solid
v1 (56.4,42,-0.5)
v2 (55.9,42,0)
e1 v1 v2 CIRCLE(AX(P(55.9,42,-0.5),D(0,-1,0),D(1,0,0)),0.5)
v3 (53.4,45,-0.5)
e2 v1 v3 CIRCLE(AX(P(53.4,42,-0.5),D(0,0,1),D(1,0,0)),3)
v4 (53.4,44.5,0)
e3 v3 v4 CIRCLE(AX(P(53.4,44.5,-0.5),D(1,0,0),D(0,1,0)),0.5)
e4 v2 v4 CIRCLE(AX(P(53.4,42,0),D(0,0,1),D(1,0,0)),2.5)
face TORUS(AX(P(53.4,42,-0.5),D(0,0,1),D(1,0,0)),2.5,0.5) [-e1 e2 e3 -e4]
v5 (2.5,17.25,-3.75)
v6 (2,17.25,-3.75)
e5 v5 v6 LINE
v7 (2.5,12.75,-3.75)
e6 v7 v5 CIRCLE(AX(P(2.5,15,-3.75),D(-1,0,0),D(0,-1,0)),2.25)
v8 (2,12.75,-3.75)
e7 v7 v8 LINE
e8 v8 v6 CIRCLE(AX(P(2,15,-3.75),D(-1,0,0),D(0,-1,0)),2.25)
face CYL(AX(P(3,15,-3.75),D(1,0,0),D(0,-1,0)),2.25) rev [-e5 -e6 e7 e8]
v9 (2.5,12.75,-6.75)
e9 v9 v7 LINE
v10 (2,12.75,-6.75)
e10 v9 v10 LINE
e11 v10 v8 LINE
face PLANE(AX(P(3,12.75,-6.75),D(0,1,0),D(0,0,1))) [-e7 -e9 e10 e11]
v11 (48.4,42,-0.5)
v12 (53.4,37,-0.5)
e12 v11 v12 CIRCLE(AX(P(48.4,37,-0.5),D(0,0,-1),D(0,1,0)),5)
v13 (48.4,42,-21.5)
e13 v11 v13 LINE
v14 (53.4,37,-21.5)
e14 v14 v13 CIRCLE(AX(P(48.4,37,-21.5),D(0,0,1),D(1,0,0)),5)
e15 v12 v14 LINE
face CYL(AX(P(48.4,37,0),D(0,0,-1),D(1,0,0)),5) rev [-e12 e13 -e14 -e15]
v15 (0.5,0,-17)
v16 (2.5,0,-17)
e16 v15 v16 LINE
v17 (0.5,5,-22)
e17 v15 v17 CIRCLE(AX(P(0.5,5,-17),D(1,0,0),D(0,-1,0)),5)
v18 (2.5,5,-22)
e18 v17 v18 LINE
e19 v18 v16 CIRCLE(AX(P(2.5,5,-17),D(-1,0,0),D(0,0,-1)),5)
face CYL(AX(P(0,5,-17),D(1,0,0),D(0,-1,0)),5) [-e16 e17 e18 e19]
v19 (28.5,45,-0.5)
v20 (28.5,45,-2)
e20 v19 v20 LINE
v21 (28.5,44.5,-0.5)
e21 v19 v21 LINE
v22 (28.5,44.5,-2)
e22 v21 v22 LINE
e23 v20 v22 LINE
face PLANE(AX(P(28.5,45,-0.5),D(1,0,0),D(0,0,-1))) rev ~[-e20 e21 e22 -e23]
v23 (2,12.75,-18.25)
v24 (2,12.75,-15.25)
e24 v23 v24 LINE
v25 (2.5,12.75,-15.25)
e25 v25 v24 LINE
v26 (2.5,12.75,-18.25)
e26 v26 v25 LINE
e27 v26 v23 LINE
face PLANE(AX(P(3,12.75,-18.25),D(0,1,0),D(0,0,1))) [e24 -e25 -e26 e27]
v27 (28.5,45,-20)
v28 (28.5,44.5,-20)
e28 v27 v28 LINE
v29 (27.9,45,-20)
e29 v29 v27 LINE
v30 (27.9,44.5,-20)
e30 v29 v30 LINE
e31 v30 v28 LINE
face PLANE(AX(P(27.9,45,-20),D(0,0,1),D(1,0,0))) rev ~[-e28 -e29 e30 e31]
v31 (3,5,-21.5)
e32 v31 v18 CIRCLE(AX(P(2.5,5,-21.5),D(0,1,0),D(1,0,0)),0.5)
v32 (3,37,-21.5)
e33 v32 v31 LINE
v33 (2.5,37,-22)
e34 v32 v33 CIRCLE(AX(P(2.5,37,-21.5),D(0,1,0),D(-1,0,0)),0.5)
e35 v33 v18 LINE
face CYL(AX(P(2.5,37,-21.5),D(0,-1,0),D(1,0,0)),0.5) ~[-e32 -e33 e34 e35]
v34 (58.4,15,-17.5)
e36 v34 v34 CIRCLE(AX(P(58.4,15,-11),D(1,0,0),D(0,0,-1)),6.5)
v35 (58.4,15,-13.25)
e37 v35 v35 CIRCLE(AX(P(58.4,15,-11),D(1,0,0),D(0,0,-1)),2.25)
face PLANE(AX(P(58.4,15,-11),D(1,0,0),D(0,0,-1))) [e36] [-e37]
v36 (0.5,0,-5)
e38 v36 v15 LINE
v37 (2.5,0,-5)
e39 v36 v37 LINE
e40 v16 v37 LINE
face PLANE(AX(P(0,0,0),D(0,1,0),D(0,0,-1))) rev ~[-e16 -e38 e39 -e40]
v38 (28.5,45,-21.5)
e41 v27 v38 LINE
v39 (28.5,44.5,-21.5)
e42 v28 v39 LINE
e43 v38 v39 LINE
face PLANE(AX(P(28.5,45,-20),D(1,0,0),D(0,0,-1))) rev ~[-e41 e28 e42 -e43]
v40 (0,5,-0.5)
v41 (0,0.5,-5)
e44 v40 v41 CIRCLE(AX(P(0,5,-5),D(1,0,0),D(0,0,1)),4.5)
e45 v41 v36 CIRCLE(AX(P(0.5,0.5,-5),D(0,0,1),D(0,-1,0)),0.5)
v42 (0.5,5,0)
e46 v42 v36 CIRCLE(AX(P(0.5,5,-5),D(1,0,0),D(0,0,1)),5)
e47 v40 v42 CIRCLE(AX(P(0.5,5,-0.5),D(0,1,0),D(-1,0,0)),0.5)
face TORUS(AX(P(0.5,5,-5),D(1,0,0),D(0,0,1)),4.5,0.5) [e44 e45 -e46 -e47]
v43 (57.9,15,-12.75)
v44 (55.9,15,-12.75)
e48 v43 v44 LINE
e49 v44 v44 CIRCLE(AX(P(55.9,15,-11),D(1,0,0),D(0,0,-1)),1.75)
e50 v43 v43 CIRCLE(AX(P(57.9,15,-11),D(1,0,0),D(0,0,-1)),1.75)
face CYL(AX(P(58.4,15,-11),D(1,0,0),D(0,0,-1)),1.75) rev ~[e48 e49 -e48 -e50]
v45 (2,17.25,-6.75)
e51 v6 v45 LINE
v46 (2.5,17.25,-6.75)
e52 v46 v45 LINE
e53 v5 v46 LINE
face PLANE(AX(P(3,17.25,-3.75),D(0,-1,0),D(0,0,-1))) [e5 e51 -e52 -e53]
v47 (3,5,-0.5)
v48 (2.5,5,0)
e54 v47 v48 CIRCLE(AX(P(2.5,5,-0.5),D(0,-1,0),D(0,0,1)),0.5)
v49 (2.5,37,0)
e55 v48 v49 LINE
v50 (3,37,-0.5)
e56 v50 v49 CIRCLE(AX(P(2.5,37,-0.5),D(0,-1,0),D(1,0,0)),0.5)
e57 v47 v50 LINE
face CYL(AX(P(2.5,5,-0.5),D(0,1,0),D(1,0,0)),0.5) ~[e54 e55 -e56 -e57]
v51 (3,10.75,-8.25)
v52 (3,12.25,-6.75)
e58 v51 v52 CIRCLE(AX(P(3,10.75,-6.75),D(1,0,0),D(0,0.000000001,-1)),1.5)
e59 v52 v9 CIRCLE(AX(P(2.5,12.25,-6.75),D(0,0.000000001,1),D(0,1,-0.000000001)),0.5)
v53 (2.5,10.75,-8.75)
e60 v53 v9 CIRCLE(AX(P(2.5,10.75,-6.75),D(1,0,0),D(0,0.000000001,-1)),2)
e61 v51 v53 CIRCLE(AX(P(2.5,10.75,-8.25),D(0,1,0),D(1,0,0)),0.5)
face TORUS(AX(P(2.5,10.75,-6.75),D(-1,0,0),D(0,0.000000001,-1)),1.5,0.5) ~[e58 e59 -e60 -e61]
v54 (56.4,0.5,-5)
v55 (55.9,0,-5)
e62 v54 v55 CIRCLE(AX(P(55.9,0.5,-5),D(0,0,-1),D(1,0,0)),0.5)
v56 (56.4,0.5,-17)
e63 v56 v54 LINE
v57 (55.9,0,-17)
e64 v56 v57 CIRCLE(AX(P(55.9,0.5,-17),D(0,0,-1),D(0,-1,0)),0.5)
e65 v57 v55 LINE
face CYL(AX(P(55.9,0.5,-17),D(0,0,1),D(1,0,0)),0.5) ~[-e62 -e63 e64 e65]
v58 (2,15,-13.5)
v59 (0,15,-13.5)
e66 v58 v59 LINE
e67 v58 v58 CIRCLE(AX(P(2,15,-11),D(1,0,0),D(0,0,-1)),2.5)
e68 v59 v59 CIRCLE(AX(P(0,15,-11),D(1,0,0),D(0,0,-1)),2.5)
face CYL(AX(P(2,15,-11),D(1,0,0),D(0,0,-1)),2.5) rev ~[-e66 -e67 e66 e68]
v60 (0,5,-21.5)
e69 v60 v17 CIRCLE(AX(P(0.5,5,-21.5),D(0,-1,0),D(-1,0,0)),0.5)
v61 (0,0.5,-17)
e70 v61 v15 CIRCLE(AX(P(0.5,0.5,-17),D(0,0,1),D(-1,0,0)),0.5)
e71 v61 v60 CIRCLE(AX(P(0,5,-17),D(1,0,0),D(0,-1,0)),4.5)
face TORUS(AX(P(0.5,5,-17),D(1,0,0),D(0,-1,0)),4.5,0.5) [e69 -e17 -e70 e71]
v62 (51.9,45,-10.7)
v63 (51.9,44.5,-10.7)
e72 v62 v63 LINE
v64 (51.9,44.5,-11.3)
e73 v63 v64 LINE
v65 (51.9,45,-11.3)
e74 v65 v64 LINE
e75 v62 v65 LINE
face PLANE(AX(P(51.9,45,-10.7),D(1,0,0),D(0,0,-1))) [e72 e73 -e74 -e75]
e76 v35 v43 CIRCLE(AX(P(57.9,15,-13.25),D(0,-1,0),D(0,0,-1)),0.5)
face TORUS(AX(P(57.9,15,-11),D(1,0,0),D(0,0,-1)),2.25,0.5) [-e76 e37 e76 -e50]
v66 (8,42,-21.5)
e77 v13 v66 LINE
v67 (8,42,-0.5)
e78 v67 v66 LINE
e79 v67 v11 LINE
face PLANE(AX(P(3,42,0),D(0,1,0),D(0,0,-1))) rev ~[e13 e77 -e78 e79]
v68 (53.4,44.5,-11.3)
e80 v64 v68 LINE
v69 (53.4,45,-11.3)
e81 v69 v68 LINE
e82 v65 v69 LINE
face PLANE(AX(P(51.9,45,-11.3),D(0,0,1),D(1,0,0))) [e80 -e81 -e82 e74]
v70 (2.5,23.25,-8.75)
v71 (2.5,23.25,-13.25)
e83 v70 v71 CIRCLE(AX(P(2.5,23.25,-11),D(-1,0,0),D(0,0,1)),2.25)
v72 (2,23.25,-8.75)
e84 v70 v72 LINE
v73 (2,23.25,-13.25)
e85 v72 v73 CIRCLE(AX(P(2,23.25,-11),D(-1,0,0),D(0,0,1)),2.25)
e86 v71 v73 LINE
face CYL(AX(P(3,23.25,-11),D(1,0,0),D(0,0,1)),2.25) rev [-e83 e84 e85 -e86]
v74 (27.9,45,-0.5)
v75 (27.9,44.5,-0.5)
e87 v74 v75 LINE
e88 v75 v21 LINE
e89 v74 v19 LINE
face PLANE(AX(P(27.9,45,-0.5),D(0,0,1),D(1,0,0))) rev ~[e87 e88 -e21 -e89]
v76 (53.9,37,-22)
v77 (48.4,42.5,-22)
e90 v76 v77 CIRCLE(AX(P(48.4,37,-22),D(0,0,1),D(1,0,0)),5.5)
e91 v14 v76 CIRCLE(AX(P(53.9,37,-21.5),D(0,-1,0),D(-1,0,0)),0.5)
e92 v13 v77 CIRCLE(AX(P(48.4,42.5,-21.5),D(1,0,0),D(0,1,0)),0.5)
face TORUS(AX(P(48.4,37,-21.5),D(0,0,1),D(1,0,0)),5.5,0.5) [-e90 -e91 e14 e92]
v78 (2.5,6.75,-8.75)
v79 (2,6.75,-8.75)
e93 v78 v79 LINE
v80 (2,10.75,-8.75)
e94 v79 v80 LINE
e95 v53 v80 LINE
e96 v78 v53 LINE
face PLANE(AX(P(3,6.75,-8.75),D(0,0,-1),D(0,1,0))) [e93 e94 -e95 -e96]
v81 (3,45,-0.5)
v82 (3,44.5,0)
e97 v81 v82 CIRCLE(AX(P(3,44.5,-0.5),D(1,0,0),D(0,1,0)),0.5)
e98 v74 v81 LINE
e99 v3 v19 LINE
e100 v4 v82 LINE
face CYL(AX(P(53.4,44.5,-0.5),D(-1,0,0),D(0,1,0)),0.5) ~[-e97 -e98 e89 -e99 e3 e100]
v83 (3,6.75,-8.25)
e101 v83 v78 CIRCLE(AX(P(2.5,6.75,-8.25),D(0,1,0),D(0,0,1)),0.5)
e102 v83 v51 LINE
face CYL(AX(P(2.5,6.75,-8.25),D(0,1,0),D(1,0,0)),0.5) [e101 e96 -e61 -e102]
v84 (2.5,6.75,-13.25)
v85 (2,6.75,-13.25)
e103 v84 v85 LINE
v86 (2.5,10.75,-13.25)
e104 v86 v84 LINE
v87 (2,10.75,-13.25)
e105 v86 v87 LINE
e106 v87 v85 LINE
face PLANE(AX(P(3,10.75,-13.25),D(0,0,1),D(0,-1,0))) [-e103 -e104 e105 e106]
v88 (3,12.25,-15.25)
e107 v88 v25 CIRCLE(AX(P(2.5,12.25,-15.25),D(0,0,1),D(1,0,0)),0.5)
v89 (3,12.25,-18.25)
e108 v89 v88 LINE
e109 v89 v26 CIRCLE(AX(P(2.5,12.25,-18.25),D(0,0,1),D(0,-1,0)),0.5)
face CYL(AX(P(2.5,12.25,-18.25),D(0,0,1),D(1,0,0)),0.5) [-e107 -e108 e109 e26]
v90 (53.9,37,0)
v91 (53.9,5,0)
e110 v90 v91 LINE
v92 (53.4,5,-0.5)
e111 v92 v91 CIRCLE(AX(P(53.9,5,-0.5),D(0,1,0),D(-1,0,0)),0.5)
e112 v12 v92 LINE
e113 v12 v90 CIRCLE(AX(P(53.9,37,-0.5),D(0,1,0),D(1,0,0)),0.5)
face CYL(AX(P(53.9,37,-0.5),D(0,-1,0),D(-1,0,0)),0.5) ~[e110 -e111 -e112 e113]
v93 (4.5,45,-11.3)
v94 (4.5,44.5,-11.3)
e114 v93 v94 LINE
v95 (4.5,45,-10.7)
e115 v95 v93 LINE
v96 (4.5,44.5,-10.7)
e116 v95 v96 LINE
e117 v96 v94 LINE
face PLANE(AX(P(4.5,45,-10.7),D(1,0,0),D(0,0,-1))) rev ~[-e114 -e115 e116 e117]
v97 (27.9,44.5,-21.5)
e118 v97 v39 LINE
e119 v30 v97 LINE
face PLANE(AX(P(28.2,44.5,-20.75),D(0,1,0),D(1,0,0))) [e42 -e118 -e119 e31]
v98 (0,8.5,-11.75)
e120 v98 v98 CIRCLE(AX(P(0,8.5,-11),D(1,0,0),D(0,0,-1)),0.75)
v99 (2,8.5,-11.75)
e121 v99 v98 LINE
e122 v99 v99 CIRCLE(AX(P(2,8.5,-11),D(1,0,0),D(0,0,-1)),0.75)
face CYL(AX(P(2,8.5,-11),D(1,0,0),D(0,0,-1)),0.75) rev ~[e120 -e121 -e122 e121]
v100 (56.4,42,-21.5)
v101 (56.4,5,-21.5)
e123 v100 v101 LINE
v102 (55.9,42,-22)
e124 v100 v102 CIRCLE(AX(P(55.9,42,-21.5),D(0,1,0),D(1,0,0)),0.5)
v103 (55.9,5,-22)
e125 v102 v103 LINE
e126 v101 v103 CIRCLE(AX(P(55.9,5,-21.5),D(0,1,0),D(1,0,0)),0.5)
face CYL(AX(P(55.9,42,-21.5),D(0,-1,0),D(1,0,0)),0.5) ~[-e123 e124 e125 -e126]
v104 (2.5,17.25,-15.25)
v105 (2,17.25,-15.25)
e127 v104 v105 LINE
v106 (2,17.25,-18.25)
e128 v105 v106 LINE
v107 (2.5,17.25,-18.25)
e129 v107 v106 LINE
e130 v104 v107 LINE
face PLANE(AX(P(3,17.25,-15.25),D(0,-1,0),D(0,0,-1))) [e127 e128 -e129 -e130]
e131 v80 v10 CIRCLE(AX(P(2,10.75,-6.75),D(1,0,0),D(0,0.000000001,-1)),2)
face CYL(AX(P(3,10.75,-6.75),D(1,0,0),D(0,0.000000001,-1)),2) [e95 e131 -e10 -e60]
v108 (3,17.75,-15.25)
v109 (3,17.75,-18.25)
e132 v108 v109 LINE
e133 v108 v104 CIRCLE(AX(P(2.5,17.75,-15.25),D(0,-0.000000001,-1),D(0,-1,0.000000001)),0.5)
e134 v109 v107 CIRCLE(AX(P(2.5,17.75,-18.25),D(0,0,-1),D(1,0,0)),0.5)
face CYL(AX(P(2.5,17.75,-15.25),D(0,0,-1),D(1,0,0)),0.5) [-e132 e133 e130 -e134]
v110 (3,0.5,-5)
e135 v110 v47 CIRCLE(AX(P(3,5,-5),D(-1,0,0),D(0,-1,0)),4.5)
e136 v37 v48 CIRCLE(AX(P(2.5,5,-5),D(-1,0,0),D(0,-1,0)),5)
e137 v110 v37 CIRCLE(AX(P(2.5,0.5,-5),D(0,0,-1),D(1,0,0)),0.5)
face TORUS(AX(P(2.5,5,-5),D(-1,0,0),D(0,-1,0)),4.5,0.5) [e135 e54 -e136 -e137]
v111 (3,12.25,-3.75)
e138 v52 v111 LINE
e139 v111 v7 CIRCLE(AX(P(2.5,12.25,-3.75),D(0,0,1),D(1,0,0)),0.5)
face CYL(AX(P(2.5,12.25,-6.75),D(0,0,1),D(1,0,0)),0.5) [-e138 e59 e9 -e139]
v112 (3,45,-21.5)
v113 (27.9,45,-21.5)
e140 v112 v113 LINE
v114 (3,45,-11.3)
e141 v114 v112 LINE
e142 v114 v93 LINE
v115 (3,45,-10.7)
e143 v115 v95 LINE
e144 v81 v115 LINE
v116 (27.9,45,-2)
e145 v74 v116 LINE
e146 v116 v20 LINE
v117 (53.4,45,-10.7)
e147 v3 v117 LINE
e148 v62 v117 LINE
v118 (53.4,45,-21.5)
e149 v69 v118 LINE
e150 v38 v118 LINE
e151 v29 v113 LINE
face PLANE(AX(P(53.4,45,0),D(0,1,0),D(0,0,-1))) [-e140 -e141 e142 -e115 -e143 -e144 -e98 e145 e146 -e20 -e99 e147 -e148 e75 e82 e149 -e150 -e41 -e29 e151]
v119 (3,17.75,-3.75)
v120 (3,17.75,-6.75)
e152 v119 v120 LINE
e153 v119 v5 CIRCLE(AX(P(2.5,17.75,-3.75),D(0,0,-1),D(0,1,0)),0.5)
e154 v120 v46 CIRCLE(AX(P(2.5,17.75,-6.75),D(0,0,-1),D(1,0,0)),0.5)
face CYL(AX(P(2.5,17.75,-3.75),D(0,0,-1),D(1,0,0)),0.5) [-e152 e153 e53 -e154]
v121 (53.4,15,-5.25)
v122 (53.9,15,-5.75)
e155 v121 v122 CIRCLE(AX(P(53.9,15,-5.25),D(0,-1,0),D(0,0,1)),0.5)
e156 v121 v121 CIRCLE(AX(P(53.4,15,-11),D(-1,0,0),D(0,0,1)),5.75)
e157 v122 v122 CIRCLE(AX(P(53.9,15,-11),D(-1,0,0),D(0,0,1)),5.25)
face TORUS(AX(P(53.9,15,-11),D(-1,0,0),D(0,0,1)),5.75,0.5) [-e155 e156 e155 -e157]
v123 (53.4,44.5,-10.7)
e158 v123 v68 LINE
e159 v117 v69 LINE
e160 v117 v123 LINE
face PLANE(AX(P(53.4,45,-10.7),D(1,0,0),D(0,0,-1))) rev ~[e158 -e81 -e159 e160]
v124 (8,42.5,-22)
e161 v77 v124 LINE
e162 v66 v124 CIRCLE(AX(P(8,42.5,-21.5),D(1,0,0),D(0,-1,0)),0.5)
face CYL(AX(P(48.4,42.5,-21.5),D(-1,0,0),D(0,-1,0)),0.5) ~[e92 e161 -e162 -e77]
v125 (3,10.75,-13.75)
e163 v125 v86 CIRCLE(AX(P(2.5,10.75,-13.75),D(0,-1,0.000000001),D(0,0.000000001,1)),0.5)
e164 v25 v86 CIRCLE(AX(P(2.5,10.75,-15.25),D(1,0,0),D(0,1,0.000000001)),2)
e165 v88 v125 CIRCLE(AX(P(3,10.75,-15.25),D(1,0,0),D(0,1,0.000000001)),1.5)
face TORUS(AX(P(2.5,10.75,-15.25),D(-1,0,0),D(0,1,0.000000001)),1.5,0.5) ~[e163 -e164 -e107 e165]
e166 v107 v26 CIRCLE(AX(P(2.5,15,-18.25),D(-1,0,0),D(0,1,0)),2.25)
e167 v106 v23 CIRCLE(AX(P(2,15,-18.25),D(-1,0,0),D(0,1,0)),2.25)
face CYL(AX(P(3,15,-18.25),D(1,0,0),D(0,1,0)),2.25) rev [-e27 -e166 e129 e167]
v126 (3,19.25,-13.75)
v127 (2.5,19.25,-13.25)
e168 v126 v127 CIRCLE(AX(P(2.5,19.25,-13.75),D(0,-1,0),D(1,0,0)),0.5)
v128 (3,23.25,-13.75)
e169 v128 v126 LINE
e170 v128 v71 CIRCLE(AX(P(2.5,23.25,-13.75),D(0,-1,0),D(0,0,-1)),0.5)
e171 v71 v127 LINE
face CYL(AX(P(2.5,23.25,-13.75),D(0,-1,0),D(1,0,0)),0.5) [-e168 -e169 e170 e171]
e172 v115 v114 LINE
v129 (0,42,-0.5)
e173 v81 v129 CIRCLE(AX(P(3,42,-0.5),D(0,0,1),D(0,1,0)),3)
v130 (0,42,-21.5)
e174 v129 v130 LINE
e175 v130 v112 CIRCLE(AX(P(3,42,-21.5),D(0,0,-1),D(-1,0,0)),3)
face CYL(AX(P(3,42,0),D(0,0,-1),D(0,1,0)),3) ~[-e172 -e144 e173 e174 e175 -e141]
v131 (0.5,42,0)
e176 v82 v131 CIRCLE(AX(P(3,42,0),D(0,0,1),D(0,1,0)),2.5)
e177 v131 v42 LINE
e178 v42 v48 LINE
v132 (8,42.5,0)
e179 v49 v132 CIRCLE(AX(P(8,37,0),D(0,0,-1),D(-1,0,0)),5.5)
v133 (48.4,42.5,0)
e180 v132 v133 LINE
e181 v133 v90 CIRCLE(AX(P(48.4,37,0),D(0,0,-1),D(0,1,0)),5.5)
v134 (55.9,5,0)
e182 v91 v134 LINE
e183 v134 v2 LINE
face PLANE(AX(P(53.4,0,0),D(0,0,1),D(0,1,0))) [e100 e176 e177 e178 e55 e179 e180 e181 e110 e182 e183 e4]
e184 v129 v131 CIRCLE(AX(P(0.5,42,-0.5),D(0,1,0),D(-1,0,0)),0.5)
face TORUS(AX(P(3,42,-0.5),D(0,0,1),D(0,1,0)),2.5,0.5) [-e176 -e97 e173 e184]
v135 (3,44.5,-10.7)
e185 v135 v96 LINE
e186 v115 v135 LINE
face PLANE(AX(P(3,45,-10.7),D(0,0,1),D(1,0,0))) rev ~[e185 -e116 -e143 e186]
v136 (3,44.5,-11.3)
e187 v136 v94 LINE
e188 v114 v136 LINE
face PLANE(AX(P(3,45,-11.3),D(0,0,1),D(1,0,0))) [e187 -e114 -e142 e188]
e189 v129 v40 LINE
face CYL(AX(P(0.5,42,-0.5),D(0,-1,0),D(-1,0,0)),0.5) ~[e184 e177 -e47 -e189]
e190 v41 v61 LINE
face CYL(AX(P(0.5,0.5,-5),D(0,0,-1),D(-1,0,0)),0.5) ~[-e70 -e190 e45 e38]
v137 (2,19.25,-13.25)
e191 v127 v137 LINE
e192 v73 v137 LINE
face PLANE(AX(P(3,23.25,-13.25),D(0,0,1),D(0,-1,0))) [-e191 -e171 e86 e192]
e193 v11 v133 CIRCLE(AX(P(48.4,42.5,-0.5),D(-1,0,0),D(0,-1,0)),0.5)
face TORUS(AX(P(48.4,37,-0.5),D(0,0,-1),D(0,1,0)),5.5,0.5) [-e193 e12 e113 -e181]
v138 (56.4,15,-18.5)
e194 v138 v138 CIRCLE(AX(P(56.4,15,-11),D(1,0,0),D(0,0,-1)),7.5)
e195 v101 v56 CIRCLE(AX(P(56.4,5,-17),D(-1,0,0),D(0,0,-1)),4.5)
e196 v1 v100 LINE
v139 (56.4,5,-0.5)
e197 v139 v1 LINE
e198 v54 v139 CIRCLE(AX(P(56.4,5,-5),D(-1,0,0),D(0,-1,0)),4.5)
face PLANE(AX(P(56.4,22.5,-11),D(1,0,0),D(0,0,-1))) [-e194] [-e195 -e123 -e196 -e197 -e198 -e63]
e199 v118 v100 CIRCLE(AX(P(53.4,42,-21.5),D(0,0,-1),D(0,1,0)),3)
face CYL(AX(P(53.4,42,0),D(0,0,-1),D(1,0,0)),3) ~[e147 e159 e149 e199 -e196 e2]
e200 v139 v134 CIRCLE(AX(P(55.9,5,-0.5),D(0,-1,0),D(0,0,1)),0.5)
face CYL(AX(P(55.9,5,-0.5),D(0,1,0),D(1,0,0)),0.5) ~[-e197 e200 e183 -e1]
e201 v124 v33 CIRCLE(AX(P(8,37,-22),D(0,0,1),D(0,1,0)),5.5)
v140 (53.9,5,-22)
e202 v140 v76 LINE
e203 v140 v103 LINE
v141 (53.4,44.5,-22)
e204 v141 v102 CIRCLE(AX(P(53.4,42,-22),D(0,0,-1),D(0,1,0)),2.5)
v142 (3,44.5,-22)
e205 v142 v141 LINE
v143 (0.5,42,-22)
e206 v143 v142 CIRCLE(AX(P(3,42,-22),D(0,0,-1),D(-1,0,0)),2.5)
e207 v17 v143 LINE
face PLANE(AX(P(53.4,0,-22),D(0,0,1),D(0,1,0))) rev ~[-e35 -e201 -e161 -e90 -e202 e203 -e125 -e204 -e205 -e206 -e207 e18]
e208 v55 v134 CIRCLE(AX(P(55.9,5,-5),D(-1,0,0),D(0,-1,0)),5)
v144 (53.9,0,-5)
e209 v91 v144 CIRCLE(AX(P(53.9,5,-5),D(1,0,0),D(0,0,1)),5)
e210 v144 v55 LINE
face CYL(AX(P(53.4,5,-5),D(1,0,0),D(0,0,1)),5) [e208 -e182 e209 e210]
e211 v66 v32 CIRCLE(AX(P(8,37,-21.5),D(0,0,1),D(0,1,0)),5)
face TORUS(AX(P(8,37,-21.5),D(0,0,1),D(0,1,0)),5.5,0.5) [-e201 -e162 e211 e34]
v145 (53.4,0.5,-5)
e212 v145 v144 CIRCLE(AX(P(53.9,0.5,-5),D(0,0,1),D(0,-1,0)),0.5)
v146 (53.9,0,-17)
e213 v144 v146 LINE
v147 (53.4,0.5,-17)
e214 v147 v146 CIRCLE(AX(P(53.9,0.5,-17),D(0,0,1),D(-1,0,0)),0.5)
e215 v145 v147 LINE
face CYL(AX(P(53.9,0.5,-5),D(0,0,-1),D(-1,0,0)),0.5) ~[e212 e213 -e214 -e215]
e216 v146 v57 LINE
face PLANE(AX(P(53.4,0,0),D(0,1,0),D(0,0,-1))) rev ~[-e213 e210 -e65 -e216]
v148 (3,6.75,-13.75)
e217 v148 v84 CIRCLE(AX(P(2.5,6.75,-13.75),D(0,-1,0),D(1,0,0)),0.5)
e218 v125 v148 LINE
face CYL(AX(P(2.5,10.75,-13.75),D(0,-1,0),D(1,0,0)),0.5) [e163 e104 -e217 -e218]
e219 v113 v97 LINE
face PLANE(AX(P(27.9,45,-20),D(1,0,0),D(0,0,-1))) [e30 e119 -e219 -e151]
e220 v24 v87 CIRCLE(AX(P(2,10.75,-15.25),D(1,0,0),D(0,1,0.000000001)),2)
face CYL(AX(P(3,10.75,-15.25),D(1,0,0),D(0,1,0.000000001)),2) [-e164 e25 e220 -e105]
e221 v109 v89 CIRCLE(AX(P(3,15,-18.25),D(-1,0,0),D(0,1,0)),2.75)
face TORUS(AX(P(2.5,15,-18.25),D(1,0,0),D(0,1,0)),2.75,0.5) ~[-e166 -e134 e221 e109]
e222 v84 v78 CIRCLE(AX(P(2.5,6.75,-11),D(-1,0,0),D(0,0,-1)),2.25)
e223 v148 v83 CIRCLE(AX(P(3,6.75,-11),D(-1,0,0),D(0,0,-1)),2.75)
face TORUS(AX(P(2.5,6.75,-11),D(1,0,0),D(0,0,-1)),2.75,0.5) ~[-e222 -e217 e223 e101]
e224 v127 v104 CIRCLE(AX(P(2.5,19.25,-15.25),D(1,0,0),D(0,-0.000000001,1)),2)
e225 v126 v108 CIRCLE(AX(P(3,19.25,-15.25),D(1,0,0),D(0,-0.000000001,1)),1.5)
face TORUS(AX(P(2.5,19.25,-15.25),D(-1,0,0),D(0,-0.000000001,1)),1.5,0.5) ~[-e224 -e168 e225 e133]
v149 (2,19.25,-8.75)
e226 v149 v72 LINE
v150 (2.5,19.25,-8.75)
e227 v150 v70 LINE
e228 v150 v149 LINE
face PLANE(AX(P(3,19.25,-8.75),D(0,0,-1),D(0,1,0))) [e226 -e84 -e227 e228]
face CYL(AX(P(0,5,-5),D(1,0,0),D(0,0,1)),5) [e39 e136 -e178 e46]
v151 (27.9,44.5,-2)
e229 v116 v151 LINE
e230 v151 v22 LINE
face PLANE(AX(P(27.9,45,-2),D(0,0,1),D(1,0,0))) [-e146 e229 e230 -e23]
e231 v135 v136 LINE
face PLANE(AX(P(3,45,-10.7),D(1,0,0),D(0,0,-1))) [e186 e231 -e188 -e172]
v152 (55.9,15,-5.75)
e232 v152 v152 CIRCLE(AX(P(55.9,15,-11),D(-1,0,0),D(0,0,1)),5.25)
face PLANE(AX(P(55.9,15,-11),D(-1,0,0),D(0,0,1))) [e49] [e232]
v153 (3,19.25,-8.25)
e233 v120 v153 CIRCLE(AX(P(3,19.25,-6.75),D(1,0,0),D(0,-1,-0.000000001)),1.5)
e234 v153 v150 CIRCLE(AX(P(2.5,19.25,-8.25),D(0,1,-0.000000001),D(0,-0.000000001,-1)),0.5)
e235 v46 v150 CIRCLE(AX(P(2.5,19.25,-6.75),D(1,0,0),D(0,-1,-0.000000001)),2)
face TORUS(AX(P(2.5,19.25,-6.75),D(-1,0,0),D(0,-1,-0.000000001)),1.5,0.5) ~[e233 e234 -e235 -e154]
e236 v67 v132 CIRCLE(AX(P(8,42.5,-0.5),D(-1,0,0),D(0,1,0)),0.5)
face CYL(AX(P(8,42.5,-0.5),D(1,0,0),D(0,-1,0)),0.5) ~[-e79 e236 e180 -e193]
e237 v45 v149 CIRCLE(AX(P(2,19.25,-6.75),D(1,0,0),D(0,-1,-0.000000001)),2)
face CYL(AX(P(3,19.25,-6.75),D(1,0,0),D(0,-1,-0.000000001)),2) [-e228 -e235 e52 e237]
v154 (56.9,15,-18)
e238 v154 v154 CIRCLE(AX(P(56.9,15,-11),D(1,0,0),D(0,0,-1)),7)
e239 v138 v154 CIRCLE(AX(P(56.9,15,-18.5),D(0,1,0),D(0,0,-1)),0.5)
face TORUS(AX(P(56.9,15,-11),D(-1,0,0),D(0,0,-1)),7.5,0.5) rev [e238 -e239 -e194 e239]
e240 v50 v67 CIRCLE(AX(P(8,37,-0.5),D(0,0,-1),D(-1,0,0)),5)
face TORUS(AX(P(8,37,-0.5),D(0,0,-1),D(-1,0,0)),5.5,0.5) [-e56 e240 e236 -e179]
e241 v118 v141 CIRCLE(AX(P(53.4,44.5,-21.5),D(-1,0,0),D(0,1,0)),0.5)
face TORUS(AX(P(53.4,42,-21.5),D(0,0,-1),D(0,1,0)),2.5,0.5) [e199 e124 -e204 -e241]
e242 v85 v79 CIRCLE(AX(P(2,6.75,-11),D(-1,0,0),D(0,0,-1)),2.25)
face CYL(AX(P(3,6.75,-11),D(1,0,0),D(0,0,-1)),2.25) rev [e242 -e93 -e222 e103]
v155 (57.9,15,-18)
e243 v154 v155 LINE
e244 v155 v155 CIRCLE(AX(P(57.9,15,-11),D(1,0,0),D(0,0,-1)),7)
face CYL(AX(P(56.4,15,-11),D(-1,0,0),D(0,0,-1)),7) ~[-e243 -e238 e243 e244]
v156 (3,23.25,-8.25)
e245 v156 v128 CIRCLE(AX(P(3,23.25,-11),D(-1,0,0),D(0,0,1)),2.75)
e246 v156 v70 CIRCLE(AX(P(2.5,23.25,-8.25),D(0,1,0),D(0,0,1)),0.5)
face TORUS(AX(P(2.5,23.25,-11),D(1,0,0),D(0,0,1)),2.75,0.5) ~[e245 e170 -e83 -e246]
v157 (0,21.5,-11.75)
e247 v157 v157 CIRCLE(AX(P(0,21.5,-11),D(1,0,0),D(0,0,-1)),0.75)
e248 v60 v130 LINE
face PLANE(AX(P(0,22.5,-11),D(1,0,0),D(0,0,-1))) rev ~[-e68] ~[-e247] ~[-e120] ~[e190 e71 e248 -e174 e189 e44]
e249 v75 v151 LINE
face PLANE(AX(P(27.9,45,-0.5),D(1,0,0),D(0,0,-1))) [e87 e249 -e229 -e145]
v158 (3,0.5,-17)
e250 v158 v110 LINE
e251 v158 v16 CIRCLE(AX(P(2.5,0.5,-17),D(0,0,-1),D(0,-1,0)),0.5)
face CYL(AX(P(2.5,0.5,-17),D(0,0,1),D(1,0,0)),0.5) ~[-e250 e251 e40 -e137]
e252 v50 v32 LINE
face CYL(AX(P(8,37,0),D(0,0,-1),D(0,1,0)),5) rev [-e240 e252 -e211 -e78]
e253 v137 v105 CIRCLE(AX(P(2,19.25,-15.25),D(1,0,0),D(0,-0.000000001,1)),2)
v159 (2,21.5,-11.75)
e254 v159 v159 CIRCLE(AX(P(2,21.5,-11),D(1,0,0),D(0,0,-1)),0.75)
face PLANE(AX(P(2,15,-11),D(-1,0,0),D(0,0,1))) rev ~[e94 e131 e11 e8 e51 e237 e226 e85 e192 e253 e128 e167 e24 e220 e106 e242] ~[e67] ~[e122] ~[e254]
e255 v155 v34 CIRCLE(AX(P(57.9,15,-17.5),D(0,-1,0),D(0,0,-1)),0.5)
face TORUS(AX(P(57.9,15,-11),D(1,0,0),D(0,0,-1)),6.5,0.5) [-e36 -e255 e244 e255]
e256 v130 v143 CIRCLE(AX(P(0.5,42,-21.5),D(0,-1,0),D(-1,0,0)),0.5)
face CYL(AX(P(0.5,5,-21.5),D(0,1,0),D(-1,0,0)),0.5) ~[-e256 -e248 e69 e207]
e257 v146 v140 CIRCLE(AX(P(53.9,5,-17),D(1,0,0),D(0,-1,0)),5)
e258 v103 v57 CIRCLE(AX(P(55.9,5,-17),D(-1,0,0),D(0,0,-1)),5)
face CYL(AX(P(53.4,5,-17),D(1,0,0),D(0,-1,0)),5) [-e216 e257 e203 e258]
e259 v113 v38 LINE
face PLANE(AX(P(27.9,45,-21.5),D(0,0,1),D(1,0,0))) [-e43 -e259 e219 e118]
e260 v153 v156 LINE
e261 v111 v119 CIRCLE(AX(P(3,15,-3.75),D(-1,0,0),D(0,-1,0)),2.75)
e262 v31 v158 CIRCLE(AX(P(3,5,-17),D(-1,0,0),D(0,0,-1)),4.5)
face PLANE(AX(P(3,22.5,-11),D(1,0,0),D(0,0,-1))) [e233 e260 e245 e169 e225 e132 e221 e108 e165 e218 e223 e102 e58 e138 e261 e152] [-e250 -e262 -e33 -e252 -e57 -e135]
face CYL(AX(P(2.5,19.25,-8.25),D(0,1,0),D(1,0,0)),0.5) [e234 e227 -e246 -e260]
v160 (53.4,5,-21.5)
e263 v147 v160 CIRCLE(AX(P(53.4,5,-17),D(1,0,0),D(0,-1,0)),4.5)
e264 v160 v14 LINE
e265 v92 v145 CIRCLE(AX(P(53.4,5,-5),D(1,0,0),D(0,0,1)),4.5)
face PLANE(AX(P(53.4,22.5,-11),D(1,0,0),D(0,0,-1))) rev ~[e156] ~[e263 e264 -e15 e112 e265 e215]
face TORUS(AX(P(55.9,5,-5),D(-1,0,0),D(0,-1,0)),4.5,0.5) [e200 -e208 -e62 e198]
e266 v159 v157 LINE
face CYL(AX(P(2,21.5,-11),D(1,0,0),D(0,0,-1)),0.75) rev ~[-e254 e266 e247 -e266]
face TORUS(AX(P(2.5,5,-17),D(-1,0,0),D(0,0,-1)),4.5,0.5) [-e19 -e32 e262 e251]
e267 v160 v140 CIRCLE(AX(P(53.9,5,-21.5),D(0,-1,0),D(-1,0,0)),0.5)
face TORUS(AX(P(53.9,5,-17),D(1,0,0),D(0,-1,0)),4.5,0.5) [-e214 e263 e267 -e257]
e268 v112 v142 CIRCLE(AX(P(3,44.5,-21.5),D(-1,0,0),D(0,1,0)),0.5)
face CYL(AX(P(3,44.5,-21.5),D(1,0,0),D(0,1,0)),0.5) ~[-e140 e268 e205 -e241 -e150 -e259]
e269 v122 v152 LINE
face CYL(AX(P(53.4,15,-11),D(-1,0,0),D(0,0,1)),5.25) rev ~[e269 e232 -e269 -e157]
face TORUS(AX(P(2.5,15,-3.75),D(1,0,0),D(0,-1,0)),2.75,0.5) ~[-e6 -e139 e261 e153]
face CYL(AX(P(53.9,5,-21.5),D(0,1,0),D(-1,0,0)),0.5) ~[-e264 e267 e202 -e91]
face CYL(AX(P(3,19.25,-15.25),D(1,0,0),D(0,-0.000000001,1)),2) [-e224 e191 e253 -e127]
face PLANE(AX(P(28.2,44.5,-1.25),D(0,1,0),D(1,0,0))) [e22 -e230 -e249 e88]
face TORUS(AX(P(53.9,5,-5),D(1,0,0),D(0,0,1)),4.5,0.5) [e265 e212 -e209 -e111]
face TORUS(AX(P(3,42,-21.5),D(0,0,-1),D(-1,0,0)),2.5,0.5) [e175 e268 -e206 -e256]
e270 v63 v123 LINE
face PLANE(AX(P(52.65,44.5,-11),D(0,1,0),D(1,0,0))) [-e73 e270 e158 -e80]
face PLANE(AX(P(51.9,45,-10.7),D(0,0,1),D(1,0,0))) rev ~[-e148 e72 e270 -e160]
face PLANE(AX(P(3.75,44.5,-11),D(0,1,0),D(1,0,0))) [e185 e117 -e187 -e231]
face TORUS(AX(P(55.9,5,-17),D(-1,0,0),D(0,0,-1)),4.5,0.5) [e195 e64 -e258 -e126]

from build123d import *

# Parameters (mm, degrees)
SKETCH1_W           = 22
SKETCH1_H           = 45
BOSS_EXTRUDE1_DEPTH = 3
SKETCH2_W           = 22
SKETCH2_H           = 3
BOSS_EXTRUDE2_DEPTH = 50.4
SKETCH3_W           = 22
SKETCH3_H           = 45
BOSS_EXTRUDE3_DEPTH = 3
CUT_EXTRUDE1_DEPTH  = 1
SKETCH5_R           = 2.5
SKETCH5_R_2         = 0.75
CUT_EXTRUDE2_DEPTH  = 2
SKETCH7_R           = 5.25
CUT_EXTRUDE3_DEPTH  = 2.5
SKETCH8_R           = 7
BOSS_EXTRUDE4_DEPTH = 2
CUT_EXTRUDE4_REACH  = 60.4
SKETCH9_R           = 1.75
FILLET1_R           = 5
FILLET2_R           = 5
FILLET3_R           = 3
FILLET4_R           = 0.5
FILLET5_R           = 0.5
SKETCH10_W          = 0.6
SKETCH10_H          = 1.5
SKETCH10_W_2        = 1.5
SKETCH10_H_2        = 0.6
CUT_EXTRUDE5_DEPTH  = 0.5


with BuildPart() as part:
    # Sketch1 → Boss-Extrude1 (new body)
    with BuildSketch(Plane(origin=(0, 0, 0), x_dir=(0, 0, -1), z_dir=(1, 0, 0))):
        with Locations((11, 22.5)):
            Rectangle(SKETCH1_W, SKETCH1_H)
    extrude(amount=BOSS_EXTRUDE1_DEPTH)

    # Sketch2 → Boss-Extrude2 (add)
    with BuildSketch(Plane(origin=(3, 0, 0), x_dir=(0, 0, -1), z_dir=(1, 0, 0))):
        with Locations((11, 43.5)):
            Rectangle(SKETCH2_W, SKETCH2_H)
    extrude(amount=BOSS_EXTRUDE2_DEPTH)

    # Sketch3 → Boss-Extrude3 (add)
    with BuildSketch(Plane(origin=(53.4, 0, 0), x_dir=(0, 0, -1), z_dir=(1, 0, 0))):
        with Locations((11, 22.5)):
            Rectangle(SKETCH3_W, SKETCH3_H)
    extrude(amount=BOSS_EXTRUDE3_DEPTH)

    # Sketch4 → Cut-Extrude1 (cut)
    with BuildSketch(Plane(origin=(3, 0, 0), x_dir=(0, 0, -1), z_dir=(1, 0, 0))):
        with BuildLine():
            Line((8.75, 19.25), (8.75, 23.25))
            ThreePointArc((8.75, 23.25), (11, 25.5), (13.25, 23.25))
            Line((13.25, 23.25), (13.25, 19.25))
            ThreePointArc((13.25, 19.25), (13.835786438, 17.835786438), (15.25, 17.25))
            Line((15.25, 17.25), (18.25, 17.25))
            ThreePointArc((18.25, 17.25), (20.5, 15), (18.25, 12.75))
            Line((18.25, 12.75), (15.25, 12.75))
            ThreePointArc((15.25, 12.75), (13.835786438, 12.164213562), (13.25, 10.75))
            Line((13.25, 10.75), (13.25, 6.75))
            ThreePointArc((13.25, 6.75), (11, 4.5), (8.75, 6.75))
            Line((8.75, 6.75), (8.75, 10.75))
            ThreePointArc((8.75, 10.75), (8.164213562, 12.164213562), (6.75, 12.75))
            Line((6.75, 12.75), (3.75, 12.75))
            ThreePointArc((3.75, 12.75), (1.5, 15), (3.75, 17.25))
            Line((3.75, 17.25), (6.75, 17.25))
            ThreePointArc((6.75, 17.25), (8.164213562, 17.835786438), (8.75, 19.25))
        make_face()
    extrude(amount=-CUT_EXTRUDE1_DEPTH, mode=Mode.SUBTRACT)

    # Sketch5 → Cut-Extrude2 (cut)
    with BuildSketch(Plane(origin=(2, 0, 0), x_dir=(0, 0, -1), z_dir=(1, 0, 0))):
        with Locations((11, 15)):
            Circle(SKETCH5_R)
        with Locations((11, 21.5)):
            Circle(SKETCH5_R_2)
        with Locations((11, 8.5)):
            Circle(SKETCH5_R_2)
    extrude(amount=-CUT_EXTRUDE2_DEPTH, mode=Mode.SUBTRACT)

    # Sketch7 → Cut-Extrude3 (cut)
    with BuildSketch(Plane.ZY.offset(-53.4)):
        with Locations((-11, 15)):
            Circle(SKETCH7_R)
    extrude(amount=-CUT_EXTRUDE3_DEPTH, mode=Mode.SUBTRACT)

    # Sketch8 → Boss-Extrude4 (add)
    with BuildSketch(Plane(origin=(56.4, 0, 0), x_dir=(0, 0, -1), z_dir=(1, 0, 0))):
        with Locations((11, 15)):
            Circle(SKETCH8_R)
    extrude(amount=BOSS_EXTRUDE4_DEPTH)

    # Sketch9 → Cut-Extrude4 (cut, up to next)
    with BuildSketch(Plane(origin=(58.4, 0, 0), x_dir=(0, 0, -1), z_dir=(1, 0, 0)), mode=Mode.PRIVATE) as cut_extrude4_sk1:
        with Locations((11, 15)):
            Circle(SKETCH9_R)
    cut_extrude4_tool1 = extrude(cut_extrude4_sk1.sketch, amount=-CUT_EXTRUDE4_REACH, mode=Mode.PRIVATE) & part.part
    add(cut_extrude4_tool1.solids().sort_by_distance((58.4, 15, -11))[0], mode=Mode.SUBTRACT)

    # Fillet1
    fillet1_edges = [part.edges().sort_by_distance(p)[0] for p in [
        (54.9, 0, 0),
        (54.9, 0, -22),
        (1.5, 0, 0),
        (1.5, 0, -22),
    ]]
    fillet(fillet1_edges, radius=FILLET1_R)

    # Fillet2
    fillet2_edges = [part.edges().sort_by_distance(p)[0] for p in [
        (3, 42, -11),
        (53.4, 42, -11),
    ]]
    fillet(fillet2_edges, radius=FILLET2_R)

    # Fillet3
    fillet3_edges = [part.edges().sort_by_distance(p)[0] for p in [
        (56.4, 45, -11),
        (0, 45, -11),
    ]]
    fillet(fillet3_edges, radius=FILLET3_R)

    # Fillet4
    fillet4_edges = [part.edges().sort_by_distance(p)[0] for p in [
        (56.4, 15, -4),
        (58.4, 15, -4),
        (58.4, 15, -9.25),
        (0, 23.5, -22),
        (56.4, 23.5, -22),
        (53.4, 21, -22),
        (3, 21, -22),
        (0, 23.5, 0),
        (0, 0, -11),
        (0, 1.464466094, -1.464466094),
        (0, 1.464466094, -20.535533906),
        (3, 0, -11),
        (3, 21, 0),
        (3, 1.464466094, -1.464466094),
        (3, 1.464466094, -20.535533906),
        (53.4, 0, -11),
        (56.4, 0, -11),
        (53.4, 1.464466094, -20.535533906),
        (53.4, 1.464466094, -1.464466094),
        (56.4, 1.464466094, -20.535533906),
        (56.4, 1.464466094, -1.464466094),
        (28.2, 42, -22),
        (28.2, 42, 0),
        (53.4, 21, 0),
        (4.464466094, 40.535533906, -22),
        (4.464466094, 40.535533906, 0),
        (51.935533906, 40.535533906, -22),
        (51.935533906, 40.535533906, 0),
        (28.2, 45, -22),
        (55.521320344, 44.121320344, -22),
        (0.878679656, 44.121320344, -22),
        (28.2, 45, 0),
        (56.4, 23.5, 0),
        (55.521320344, 44.121320344, 0),
        (0.878679656, 44.121320344, 0),
        (53.4, 15, -16.25),
    ]]
    fillet(fillet4_edges, radius=FILLET4_R)

    # Fillet5
    fillet5_edges = [part.edges().sort_by_distance(p)[0] for p in [
        (3, 25.5, -11),
        (3, 21.25, -8.75),
        (3, 17.835786438, -8.164213562),
        (3, 17.25, -5.25),
        (3, 15, -1.5),
        (3, 12.75, -5.25),
        (3, 12.164213562, -8.164213562),
        (3, 8.75, -8.75),
        (3, 4.5, -11),
        (3, 8.75, -13.25),
        (3, 12.164213562, -13.835786438),
        (3, 12.75, -16.75),
        (3, 15, -20.5),
        (3, 17.25, -16.75),
        (3, 17.835786438, -13.835786438),
        (3, 21.25, -13.25),
    ]]
    fillet(fillet5_edges, radius=FILLET5_R)

    # Sketch10 → Cut-Extrude5 (cut)
    with BuildSketch(Plane(origin=(0, 45, 0), x_dir=(1, 0, 0), z_dir=(0, 1, 0))):
        with Locations((28.2, 20.75)):
            Rectangle(SKETCH10_W, SKETCH10_H)
        with Locations((28.2, 1.25)):
            Rectangle(SKETCH10_W, SKETCH10_H)
        with Locations((3.75, 11)):
            Rectangle(SKETCH10_W_2, SKETCH10_H_2)
        with Locations((52.65, 11)):
            Rectangle(SKETCH10_W_2, SKETCH10_H_2)
    extrude(amount=-CUT_EXTRUDE5_DEPTH, mode=Mode.SUBTRACT)


solid = part.part
